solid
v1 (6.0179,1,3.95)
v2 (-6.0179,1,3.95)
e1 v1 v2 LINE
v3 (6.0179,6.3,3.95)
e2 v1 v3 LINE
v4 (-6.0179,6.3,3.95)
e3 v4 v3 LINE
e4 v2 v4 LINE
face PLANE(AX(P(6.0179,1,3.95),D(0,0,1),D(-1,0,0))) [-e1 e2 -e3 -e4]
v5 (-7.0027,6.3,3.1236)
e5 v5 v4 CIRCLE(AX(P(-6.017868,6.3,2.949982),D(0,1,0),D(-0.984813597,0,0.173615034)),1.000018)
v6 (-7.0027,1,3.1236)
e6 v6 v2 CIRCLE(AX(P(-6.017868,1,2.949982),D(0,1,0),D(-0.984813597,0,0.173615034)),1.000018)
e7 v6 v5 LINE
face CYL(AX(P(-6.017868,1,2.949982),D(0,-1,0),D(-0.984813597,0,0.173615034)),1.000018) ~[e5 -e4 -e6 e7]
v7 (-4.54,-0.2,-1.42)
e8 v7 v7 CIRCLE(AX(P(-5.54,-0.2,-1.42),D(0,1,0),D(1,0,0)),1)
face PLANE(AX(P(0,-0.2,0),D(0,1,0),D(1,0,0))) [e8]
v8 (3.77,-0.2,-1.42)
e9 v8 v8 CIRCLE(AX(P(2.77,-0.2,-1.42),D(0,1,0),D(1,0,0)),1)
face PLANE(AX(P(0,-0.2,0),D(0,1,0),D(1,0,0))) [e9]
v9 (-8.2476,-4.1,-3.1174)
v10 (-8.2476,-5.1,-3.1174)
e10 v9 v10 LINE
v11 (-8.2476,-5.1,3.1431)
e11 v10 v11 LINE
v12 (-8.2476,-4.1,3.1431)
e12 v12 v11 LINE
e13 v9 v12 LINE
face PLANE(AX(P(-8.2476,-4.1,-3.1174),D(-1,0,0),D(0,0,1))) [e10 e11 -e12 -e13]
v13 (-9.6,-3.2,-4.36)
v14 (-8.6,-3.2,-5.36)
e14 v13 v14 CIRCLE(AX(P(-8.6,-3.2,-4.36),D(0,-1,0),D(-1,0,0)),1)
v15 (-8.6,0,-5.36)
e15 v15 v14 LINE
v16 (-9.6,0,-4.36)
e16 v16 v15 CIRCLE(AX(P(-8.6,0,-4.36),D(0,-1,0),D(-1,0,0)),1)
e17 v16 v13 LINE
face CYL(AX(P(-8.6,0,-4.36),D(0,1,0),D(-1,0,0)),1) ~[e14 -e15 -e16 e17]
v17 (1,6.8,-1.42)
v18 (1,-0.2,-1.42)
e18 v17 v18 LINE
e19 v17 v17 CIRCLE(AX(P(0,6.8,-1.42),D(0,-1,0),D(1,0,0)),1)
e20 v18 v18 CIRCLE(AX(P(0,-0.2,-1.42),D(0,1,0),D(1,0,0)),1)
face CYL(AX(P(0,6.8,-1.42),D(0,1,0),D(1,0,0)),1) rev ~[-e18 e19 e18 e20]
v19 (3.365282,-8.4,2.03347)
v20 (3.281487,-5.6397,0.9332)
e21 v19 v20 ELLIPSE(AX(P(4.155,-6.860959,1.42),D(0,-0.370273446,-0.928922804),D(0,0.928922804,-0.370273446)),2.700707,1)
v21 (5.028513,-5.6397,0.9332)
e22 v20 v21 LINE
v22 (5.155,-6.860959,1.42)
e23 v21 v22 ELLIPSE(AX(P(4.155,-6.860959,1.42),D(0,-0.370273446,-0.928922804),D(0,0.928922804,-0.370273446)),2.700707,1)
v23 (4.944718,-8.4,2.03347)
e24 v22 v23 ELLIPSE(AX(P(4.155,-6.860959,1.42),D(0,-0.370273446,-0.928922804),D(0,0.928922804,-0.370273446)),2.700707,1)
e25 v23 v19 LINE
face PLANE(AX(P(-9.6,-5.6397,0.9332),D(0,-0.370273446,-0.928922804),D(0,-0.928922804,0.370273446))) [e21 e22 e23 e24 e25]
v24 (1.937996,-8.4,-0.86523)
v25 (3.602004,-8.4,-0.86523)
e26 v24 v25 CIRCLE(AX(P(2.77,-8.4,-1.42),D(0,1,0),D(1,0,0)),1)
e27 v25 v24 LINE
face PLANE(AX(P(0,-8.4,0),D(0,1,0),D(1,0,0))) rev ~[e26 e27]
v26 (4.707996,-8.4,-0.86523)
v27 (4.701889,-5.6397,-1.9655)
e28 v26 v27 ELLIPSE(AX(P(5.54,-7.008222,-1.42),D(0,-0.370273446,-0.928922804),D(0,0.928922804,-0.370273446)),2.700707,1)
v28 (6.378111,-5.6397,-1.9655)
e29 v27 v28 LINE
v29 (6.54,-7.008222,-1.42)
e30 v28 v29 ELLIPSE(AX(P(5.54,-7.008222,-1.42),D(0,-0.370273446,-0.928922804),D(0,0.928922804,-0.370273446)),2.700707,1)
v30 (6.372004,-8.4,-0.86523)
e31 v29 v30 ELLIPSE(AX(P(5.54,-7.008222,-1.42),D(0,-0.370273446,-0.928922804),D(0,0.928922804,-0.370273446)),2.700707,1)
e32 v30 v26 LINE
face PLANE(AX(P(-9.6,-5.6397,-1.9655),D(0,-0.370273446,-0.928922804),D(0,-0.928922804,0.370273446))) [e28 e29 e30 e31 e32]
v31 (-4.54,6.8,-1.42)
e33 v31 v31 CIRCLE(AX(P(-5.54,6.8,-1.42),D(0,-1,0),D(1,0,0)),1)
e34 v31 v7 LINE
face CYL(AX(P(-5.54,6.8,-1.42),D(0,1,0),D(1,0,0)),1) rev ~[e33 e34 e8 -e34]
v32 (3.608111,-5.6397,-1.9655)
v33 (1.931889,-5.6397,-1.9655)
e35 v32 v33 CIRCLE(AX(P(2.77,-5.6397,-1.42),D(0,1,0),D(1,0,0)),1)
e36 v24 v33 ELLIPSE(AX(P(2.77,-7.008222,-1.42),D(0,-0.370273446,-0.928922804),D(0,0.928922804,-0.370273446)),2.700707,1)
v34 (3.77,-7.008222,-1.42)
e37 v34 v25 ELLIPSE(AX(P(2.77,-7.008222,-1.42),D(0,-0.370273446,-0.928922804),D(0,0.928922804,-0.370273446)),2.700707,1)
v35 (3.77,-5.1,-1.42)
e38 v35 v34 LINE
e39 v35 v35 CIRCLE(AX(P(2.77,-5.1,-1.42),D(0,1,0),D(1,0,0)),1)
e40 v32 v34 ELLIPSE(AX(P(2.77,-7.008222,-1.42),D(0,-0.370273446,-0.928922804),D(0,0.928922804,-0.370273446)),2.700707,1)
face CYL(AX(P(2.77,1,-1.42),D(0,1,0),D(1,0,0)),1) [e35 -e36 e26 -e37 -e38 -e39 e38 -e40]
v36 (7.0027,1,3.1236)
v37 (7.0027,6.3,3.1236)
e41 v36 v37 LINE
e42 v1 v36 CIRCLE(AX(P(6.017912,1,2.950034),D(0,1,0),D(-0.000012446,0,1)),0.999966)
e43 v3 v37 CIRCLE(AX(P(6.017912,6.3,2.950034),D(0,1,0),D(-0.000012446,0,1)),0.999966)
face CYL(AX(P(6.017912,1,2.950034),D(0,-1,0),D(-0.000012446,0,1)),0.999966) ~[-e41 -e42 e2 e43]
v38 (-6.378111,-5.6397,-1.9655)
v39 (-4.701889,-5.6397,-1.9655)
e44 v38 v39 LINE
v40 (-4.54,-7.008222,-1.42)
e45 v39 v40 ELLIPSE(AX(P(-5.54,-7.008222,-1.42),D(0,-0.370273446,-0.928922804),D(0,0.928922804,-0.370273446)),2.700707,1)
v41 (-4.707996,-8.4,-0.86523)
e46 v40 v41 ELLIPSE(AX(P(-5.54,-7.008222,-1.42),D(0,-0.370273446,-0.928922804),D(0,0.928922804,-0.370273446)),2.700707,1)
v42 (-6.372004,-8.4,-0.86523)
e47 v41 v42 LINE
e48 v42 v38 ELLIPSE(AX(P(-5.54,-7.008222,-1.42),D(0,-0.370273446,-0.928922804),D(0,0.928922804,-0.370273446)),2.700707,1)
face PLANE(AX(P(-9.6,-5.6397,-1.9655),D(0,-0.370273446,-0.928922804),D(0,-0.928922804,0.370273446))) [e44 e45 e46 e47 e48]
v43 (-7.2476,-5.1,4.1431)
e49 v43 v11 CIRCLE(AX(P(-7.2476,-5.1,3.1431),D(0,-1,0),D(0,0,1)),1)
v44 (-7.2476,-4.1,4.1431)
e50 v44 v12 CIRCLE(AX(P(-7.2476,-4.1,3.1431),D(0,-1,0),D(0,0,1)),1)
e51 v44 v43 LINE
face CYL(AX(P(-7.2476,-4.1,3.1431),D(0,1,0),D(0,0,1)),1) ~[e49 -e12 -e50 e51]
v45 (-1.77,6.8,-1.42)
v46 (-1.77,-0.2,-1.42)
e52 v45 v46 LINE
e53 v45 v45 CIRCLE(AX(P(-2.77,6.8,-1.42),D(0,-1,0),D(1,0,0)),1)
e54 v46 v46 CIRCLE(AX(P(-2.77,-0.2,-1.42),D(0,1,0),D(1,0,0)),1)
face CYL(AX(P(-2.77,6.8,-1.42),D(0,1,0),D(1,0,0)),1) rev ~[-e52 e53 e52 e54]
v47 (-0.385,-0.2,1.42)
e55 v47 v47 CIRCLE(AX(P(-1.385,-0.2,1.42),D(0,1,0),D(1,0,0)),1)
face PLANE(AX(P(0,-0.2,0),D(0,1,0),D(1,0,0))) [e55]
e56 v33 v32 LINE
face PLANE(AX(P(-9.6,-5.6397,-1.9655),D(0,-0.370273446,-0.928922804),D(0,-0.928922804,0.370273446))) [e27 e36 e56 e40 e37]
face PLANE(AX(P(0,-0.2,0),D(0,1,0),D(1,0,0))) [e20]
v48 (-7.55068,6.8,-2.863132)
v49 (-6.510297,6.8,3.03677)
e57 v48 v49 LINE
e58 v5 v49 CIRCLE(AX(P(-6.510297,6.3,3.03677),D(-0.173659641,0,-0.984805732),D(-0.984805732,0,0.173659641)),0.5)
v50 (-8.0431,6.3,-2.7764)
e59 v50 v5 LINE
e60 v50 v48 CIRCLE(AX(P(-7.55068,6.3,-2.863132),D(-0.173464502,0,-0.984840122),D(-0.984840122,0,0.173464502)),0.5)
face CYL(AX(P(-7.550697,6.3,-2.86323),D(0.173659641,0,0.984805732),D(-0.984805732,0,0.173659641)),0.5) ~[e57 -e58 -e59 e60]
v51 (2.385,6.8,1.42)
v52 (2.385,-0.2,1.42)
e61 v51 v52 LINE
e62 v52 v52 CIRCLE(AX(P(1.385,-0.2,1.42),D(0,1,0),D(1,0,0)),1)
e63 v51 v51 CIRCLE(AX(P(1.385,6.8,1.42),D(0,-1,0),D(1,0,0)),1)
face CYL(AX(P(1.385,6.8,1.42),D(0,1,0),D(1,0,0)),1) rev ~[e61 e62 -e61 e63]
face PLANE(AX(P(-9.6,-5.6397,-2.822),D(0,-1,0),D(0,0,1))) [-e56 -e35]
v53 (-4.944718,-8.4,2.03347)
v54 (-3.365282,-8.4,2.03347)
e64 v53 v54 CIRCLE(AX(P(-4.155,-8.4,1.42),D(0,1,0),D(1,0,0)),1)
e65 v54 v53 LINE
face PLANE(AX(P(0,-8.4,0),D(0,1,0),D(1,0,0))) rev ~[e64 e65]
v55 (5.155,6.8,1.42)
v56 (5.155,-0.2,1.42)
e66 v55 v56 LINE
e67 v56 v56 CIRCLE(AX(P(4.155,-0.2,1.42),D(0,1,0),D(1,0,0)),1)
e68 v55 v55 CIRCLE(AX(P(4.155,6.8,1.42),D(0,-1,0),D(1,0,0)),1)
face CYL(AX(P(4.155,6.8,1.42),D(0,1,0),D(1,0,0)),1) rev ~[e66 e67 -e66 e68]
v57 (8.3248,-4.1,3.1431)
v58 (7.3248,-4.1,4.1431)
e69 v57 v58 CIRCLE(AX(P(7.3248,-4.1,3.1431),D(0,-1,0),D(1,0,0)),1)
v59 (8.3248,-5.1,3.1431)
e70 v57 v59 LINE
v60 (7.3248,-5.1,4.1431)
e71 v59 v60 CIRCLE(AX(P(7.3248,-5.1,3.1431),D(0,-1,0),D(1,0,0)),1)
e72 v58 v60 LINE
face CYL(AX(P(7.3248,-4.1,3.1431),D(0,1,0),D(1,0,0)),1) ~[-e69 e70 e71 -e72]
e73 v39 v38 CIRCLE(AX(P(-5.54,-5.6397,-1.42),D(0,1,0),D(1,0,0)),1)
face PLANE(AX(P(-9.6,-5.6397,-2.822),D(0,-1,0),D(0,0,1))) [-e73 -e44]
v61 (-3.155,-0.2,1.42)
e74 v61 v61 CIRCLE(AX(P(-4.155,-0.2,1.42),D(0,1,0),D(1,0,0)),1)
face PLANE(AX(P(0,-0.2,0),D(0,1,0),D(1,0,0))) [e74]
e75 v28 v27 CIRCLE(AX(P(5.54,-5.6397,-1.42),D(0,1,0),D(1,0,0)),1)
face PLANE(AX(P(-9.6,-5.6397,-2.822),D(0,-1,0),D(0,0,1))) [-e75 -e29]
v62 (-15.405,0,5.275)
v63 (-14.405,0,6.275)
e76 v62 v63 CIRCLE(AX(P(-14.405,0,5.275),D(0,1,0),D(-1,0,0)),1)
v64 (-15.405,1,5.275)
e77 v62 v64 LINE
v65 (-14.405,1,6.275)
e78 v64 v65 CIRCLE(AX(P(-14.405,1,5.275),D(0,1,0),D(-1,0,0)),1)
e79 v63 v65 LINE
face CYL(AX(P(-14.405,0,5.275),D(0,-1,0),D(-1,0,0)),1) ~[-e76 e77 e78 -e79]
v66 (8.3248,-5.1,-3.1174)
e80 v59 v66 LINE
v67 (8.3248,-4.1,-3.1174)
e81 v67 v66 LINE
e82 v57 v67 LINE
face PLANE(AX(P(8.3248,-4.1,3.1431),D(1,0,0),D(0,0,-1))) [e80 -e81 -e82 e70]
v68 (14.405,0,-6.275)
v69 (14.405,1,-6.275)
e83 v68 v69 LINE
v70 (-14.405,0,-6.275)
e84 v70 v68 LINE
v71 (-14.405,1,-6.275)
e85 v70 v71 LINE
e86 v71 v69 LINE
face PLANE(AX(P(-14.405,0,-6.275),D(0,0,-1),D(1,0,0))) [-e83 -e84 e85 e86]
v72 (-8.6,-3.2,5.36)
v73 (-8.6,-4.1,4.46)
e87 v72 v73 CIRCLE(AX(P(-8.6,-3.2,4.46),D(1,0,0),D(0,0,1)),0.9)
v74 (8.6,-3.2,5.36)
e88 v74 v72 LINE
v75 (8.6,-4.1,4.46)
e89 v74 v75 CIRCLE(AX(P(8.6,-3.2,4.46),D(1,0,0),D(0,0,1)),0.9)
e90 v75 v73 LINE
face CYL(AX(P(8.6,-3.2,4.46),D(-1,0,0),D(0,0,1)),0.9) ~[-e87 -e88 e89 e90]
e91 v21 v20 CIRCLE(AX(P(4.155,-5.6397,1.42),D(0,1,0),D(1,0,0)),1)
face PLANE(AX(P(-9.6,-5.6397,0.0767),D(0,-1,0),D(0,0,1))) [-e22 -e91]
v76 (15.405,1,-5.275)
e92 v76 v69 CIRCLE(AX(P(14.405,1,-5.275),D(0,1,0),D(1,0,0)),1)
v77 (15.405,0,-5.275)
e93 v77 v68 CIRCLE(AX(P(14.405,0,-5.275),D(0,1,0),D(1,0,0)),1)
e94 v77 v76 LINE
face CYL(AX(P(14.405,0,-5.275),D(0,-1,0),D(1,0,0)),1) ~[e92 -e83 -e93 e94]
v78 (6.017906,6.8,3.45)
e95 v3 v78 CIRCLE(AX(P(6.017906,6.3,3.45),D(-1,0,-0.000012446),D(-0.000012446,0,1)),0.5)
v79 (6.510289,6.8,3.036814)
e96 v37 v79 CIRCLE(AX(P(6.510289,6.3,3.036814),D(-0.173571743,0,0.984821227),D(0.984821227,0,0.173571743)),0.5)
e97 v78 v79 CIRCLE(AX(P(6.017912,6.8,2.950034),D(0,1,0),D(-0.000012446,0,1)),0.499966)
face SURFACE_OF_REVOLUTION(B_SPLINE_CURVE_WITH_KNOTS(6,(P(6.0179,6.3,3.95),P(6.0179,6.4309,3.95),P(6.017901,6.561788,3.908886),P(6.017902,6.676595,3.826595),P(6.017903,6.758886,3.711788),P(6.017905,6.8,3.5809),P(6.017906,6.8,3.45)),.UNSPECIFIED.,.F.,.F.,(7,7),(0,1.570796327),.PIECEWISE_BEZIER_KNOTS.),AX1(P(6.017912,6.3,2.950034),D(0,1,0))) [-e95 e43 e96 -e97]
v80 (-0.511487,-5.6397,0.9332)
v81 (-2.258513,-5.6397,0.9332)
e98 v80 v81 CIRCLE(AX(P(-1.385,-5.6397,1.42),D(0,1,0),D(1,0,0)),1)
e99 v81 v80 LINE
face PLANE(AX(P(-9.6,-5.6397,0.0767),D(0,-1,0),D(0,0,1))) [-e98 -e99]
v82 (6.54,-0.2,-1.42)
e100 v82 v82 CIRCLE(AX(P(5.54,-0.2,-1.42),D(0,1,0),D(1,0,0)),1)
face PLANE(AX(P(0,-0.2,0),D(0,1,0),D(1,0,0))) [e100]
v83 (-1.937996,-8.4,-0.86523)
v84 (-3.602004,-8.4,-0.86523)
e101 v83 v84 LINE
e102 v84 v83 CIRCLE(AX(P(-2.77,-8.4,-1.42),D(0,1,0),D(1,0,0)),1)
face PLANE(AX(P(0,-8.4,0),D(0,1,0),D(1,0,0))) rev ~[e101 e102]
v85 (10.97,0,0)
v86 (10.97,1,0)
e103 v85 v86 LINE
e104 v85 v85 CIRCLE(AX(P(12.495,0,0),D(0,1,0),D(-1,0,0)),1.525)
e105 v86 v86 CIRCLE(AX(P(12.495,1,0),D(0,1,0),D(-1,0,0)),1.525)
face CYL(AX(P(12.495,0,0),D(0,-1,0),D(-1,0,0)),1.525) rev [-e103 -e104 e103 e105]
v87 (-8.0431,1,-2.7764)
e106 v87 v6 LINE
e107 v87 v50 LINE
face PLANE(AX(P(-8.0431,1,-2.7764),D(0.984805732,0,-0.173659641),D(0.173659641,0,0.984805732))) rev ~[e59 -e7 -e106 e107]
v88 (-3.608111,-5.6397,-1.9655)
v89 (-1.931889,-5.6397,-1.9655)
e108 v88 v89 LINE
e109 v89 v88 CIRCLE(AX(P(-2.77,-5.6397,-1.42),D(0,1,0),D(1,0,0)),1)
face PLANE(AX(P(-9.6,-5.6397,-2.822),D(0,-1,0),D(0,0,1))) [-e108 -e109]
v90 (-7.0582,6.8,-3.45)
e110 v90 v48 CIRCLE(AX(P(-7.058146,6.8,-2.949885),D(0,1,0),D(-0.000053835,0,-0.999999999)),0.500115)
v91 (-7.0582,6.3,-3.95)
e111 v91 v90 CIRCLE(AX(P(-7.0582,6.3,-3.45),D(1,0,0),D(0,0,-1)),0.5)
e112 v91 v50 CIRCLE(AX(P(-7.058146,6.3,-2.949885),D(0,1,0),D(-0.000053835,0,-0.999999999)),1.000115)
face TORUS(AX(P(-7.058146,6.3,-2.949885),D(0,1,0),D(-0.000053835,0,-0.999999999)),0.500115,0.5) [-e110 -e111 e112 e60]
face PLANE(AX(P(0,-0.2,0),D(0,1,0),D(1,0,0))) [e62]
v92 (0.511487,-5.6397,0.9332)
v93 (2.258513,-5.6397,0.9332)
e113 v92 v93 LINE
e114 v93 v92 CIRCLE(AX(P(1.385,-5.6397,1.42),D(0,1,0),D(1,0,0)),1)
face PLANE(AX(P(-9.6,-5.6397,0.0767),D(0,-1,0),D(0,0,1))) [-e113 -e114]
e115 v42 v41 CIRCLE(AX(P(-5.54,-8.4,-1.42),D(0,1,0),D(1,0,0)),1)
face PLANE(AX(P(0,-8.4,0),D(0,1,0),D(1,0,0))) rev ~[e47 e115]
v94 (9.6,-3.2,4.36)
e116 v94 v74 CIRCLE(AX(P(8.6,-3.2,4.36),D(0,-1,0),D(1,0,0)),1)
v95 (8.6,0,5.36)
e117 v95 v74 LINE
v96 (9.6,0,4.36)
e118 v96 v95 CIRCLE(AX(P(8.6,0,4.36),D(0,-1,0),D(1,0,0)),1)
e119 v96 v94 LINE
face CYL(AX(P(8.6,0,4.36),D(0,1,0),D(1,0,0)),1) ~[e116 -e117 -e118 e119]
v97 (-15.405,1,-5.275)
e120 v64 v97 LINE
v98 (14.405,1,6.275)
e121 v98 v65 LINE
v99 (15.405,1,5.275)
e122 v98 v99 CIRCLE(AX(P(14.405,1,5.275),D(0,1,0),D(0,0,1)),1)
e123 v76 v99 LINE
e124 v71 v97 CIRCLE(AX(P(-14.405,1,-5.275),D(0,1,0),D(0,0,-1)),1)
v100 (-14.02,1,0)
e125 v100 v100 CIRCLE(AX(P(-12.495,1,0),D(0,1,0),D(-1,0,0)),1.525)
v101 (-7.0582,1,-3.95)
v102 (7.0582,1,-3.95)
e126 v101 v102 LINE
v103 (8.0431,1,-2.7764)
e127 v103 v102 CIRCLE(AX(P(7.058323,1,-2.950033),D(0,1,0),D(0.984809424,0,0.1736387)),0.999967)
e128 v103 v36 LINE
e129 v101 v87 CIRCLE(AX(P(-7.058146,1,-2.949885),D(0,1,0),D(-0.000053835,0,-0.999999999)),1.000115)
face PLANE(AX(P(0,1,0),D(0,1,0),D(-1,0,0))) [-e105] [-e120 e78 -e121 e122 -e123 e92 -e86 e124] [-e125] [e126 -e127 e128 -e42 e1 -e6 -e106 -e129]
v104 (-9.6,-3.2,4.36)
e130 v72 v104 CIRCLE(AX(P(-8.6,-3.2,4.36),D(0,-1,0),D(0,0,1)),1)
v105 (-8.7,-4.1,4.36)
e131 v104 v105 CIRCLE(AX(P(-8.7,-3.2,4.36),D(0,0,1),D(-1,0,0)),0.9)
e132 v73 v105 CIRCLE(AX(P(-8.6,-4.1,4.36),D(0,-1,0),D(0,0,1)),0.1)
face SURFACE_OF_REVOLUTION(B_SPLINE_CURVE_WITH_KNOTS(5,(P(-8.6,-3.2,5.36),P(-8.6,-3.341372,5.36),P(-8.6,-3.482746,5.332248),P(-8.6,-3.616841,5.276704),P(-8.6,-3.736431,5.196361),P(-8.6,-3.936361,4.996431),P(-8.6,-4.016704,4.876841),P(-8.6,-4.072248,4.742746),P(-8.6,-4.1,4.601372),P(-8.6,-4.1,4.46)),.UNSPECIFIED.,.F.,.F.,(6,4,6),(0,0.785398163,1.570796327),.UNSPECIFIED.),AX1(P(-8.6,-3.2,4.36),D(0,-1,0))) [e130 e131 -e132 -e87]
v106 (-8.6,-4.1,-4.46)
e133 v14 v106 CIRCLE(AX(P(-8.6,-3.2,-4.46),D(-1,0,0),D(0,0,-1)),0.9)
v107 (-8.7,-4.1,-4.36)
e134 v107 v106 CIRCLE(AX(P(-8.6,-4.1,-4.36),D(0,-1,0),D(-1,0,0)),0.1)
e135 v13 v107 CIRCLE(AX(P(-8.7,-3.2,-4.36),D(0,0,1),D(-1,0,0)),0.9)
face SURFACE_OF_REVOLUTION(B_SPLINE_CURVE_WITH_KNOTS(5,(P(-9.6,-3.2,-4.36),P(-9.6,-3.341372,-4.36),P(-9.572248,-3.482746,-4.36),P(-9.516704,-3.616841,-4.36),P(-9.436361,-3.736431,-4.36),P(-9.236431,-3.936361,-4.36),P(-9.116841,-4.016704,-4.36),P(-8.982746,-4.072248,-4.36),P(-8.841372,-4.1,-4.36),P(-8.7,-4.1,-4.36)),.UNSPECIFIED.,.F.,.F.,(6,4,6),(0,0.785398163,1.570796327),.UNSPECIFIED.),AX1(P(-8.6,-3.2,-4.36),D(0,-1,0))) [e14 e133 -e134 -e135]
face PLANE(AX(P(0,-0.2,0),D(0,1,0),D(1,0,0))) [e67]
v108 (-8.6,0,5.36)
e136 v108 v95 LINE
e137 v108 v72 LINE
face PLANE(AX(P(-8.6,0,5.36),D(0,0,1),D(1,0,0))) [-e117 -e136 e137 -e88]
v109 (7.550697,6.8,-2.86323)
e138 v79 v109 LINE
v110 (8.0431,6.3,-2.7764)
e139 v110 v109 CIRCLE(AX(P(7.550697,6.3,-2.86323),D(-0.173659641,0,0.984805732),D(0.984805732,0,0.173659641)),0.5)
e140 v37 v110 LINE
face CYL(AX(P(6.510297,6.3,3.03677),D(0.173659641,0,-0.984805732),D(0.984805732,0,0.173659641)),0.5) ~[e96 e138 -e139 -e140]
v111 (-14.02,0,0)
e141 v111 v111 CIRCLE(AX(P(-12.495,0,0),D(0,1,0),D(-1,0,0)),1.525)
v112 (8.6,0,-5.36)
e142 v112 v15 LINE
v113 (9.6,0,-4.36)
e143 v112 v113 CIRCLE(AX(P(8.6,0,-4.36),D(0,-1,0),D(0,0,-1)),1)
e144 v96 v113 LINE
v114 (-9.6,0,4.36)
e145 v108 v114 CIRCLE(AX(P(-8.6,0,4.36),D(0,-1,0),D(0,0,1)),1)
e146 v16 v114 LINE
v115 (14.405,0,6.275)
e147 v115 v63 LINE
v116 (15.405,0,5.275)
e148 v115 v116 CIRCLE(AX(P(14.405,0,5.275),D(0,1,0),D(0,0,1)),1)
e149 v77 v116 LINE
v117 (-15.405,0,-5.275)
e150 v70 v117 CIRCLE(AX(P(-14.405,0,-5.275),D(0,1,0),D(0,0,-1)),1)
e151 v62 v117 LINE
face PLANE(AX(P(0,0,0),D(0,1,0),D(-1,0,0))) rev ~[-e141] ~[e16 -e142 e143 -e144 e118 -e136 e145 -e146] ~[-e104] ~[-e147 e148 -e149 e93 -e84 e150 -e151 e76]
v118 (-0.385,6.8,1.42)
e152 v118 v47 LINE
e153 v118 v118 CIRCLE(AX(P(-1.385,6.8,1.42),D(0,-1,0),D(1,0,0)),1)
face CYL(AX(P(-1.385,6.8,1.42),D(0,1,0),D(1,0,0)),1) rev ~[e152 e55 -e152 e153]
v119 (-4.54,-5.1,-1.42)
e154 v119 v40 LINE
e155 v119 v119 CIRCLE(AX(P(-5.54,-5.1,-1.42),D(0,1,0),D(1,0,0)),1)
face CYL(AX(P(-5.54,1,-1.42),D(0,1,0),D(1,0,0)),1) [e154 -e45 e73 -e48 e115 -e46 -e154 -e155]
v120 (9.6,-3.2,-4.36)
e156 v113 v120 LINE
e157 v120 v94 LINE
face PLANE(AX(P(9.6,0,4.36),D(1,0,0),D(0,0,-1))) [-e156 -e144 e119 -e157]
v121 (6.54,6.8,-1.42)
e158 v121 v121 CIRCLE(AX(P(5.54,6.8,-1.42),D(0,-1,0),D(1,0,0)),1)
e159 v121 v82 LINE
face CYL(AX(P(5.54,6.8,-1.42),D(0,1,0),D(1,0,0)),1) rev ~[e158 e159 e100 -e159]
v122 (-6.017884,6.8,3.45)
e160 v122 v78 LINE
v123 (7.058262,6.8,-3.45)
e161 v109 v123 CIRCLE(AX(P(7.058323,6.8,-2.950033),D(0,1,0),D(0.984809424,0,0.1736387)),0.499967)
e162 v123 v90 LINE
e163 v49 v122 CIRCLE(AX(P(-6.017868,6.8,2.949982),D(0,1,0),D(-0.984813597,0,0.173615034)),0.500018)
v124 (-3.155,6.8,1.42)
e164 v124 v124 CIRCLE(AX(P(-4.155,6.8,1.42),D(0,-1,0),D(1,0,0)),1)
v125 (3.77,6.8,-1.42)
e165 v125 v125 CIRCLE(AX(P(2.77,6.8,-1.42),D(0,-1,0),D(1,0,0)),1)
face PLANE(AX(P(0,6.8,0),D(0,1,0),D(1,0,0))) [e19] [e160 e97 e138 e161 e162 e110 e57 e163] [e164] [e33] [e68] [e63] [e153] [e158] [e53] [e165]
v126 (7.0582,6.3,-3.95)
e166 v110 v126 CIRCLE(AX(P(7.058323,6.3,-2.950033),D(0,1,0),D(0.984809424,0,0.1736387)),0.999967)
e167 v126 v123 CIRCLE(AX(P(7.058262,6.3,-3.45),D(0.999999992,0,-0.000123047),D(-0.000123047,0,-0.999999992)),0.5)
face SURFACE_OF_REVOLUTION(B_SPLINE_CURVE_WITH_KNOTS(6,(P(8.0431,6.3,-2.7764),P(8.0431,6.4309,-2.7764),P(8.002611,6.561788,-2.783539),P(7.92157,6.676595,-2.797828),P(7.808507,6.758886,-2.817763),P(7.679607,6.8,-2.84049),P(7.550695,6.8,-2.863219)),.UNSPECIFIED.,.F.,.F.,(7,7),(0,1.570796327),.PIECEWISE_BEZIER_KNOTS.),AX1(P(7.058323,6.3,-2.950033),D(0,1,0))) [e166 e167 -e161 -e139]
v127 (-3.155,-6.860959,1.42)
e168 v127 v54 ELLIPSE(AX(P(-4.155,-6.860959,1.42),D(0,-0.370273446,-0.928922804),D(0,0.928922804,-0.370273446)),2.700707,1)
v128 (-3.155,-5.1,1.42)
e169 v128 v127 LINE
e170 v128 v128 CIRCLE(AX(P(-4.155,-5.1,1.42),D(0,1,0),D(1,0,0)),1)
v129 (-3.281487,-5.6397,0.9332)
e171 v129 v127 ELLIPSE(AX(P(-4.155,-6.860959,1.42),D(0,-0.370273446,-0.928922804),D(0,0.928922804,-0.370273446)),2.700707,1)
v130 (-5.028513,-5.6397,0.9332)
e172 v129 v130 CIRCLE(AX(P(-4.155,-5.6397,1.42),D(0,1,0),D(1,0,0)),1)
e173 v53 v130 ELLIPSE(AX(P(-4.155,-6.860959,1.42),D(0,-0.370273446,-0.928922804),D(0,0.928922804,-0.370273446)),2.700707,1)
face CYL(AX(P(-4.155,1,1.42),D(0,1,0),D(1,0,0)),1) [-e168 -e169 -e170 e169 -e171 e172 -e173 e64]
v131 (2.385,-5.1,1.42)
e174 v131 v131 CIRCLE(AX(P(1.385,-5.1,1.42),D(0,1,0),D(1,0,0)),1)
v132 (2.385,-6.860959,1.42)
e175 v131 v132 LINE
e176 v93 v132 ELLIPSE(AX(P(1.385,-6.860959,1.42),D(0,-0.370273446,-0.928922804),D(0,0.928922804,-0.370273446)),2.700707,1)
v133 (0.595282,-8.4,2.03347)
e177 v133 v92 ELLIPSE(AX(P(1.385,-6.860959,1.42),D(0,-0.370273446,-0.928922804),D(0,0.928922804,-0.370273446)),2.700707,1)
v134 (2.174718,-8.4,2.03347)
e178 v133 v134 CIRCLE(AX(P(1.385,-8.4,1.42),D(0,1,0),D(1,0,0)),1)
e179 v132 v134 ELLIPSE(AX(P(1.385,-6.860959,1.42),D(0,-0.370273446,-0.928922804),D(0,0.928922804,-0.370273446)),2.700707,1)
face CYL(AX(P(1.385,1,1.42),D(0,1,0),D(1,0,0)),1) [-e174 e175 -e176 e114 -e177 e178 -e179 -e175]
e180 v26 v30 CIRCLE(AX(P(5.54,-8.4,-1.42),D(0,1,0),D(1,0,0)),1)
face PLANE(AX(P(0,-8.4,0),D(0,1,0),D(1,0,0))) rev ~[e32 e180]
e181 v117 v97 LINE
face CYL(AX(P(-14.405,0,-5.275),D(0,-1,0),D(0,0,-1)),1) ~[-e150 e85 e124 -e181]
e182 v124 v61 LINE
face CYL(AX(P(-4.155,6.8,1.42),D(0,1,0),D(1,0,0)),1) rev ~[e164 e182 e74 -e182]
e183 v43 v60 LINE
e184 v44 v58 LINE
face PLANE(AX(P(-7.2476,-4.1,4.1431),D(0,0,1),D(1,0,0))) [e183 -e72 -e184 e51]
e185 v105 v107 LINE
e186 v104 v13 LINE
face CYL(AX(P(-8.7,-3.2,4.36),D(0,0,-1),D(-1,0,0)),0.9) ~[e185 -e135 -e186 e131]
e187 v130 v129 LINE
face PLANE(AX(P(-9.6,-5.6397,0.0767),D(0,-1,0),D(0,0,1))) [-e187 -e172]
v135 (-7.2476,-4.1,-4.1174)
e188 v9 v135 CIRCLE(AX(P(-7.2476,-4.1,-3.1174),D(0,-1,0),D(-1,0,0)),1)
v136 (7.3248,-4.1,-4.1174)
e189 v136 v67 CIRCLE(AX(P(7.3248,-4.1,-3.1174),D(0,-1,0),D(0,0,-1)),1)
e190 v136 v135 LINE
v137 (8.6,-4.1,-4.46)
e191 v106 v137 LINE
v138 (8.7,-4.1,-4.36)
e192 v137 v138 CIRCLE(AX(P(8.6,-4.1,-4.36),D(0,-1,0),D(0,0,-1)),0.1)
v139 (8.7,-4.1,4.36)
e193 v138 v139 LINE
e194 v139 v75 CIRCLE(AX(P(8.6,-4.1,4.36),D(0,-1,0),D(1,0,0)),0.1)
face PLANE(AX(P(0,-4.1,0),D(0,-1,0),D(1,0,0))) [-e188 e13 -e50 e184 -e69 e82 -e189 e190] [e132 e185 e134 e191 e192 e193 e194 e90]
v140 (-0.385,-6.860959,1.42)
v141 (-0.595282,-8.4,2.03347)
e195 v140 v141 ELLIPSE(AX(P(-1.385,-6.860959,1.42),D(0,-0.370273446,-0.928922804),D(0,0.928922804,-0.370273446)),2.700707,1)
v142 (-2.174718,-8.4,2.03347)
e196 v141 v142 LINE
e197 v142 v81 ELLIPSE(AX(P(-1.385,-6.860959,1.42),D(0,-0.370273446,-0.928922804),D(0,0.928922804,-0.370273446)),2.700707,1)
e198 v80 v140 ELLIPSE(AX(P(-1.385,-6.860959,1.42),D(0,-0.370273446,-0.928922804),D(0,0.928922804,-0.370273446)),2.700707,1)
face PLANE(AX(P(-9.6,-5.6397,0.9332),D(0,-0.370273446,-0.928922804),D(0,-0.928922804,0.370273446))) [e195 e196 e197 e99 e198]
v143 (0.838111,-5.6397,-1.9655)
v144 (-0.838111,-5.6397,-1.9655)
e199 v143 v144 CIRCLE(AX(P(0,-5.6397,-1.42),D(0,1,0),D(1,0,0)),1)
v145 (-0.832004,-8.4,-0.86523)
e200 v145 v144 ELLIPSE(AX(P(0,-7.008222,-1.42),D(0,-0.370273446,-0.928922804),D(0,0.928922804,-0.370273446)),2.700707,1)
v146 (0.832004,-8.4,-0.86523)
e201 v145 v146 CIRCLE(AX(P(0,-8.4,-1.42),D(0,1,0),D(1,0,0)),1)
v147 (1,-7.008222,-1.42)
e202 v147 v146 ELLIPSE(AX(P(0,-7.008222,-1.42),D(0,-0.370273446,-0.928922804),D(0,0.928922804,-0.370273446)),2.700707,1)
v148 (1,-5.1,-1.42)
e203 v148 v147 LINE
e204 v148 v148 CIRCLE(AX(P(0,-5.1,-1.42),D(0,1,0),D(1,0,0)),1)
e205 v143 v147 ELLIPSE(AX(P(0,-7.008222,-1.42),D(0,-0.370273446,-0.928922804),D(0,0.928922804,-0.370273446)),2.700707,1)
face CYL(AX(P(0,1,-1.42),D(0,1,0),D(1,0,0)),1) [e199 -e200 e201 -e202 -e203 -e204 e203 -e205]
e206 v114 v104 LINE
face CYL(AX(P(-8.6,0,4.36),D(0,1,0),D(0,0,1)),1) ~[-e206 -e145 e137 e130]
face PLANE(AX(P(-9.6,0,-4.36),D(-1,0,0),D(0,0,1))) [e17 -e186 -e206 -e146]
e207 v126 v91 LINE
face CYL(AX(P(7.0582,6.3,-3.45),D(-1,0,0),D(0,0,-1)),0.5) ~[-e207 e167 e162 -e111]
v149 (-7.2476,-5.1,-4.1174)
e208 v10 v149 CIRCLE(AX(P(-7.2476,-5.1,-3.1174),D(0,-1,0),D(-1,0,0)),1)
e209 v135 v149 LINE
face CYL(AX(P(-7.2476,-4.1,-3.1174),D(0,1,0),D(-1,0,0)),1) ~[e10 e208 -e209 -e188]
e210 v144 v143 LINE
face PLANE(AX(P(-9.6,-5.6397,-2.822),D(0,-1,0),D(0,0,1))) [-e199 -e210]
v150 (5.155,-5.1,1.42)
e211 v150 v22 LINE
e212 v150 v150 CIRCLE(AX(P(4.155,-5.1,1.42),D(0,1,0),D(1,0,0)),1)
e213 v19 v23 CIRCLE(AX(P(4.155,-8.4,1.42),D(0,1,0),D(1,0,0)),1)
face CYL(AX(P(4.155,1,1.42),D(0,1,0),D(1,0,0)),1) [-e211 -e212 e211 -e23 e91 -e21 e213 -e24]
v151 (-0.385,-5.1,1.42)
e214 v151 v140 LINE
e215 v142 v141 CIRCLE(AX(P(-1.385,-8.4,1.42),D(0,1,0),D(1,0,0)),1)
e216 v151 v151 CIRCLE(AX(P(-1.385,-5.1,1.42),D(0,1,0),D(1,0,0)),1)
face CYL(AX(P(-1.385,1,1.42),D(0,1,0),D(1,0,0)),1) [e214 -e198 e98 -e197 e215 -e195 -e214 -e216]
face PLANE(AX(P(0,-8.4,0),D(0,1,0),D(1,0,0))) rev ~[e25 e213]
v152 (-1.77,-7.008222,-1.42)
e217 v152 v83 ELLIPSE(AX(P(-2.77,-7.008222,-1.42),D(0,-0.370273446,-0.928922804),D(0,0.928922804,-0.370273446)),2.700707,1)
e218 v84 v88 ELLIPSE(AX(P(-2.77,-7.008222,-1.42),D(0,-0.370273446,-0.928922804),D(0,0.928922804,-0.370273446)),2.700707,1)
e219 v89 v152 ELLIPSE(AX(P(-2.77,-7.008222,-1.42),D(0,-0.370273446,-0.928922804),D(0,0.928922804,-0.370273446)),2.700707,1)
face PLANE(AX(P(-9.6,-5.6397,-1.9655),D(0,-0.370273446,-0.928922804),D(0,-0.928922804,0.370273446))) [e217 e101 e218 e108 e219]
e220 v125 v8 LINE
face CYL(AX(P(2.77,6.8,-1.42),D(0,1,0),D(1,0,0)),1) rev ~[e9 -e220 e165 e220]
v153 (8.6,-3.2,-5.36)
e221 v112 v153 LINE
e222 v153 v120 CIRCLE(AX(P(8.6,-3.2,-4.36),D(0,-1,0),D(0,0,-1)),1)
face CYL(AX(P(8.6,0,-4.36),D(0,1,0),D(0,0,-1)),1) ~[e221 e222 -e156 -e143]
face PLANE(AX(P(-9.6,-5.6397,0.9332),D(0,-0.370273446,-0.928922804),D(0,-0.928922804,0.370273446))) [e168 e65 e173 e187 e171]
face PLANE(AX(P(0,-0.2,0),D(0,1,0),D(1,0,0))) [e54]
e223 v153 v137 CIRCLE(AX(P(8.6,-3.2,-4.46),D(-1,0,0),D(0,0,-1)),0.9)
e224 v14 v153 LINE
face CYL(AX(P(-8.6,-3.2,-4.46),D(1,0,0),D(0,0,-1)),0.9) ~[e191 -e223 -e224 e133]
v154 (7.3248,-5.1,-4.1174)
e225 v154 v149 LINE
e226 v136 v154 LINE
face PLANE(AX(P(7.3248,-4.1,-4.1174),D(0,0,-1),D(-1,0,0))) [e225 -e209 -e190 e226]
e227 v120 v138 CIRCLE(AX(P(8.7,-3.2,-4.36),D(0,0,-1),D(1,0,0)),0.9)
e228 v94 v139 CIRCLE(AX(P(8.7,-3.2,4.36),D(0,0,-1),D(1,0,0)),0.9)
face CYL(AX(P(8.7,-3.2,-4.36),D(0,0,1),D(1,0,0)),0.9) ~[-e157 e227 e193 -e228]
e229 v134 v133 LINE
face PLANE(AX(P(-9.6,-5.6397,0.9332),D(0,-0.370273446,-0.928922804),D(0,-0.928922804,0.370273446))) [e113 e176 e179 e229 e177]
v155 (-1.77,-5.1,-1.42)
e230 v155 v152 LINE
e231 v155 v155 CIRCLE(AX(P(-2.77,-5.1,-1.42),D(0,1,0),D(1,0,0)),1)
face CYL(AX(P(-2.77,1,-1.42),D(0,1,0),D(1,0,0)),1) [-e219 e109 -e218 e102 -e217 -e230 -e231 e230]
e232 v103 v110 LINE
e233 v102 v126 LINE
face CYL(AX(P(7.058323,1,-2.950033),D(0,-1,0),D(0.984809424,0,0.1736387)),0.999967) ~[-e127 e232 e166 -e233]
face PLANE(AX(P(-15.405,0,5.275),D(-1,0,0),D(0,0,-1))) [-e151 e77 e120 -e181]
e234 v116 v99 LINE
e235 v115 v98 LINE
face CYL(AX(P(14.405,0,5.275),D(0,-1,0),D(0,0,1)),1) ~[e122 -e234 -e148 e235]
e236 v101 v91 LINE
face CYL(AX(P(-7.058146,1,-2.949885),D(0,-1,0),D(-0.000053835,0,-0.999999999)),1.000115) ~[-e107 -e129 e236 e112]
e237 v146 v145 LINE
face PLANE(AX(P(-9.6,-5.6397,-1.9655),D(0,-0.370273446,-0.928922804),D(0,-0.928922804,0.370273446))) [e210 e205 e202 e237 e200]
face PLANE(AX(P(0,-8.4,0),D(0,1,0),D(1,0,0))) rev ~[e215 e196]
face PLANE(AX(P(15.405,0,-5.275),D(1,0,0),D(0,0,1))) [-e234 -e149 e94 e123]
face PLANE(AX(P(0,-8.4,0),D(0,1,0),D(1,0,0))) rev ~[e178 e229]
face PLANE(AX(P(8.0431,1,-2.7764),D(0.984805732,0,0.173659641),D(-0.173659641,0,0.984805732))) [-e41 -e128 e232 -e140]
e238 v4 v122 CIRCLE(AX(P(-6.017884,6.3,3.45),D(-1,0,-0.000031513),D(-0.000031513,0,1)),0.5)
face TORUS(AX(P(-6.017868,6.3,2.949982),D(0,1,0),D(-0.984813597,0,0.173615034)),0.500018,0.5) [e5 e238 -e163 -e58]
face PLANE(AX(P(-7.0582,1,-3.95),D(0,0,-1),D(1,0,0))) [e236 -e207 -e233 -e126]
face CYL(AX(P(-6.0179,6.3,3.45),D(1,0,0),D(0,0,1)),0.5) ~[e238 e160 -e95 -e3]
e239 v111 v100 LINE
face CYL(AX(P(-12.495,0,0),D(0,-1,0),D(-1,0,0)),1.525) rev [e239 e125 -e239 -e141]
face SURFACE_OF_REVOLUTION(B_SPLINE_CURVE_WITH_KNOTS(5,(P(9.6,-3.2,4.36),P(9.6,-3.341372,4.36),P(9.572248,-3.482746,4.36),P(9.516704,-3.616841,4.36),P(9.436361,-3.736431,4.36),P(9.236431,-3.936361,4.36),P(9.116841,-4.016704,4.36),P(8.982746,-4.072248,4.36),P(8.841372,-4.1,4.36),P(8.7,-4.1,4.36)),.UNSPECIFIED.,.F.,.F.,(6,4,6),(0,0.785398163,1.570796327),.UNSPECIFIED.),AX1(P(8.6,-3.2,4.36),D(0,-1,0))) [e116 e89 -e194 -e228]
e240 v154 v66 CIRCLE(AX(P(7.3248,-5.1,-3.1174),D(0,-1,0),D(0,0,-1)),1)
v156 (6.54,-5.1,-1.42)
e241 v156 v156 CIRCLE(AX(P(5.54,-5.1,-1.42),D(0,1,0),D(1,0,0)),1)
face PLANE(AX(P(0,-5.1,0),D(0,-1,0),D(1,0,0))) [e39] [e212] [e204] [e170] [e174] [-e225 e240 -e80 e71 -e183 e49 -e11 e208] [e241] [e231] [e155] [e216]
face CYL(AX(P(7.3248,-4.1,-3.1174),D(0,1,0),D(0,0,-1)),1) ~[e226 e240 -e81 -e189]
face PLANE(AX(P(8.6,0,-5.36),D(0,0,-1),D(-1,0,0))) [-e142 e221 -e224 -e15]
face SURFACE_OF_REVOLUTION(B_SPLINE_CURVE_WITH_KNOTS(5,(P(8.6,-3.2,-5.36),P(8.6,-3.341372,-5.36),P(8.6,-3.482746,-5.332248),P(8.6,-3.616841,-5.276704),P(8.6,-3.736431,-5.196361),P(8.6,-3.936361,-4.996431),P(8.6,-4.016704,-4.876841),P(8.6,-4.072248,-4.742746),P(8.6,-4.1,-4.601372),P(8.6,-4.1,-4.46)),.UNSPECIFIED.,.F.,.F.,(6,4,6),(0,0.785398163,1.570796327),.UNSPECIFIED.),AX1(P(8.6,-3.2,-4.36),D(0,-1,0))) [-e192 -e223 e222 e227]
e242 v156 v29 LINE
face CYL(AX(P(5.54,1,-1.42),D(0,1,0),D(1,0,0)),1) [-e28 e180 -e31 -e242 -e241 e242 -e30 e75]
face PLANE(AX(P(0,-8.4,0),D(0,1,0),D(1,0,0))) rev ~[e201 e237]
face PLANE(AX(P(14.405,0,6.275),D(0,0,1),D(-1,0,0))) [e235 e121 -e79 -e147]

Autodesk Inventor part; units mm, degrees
ref_plane "YZ Plane" through (0, 0, 0) normal (1, 0, 0) x (0, 1, 0)
ref_plane "XZ Plane" through (0, 0, 0) normal (0, 1, 0) x (-1, 0, 0)
ref_plane "XY Plane" through (0, 0, 0) normal (0, 0, 1) x (1, 0, 0)
sketch "Sketch1" plane through (0, 0, 0) normal (0, 1, 0) x (-1, 0, 0)
  line L0 (-14.405, 6.275) -> (14.405, 6.275)
  line L1 (15.405, 5.275) -> (15.405, -5.275)
  line L2 (14.405, -6.275) -> (-14.405, -6.275)
  line L3 (-15.405, -5.275) -> (-15.405, 5.275)
  arc A0 (-14.405, 6.275) -> (-15.405, 5.275) centre (-14.405, 5.275) ccw
  arc A1 (15.405, 5.275) -> (14.405, 6.275) centre (14.405, 5.275) ccw
  arc A2 (14.405, -6.275) -> (15.405, -5.275) centre (14.405, -5.275) ccw
  arc A3 (-15.405, -5.275) -> (-14.405, -6.275) centre (-14.405, -5.275) ccw
  circle A4 centre (12.495, 0) radius 1.525
  circle A5 centre (-12.495, 0) radius 1.525
  point P0 (0, 0)
  point P1 (-15.405, 6.275)
  point P2 (15.405, -6.275)
  point P3 (15.405, 6.275)
  dimension "d0" = 30.81
  dimension "d1" = 12.55
  dimension "d2" = 6.275
  dimension "d3" = 15.405
  dimension "d4" = 1
  dimension "d16" = 3.05
  dimension "d17" = 3.05
  dimension "d18" = 24.99
  dimension "d19" = 12.495
extrude "Extrusion1" add sketch "Sketch1" along normal blind 1
sketch "Sketch2" plane through (0, 1, 0) normal (0, 1, 0) x (1, 0, 0)
  line L0 (-7.0582, 3.95) -> (7.0582, 3.95)
  line L1 (8.25, 3.95) -> (8.25, -3.95)
  line L2 (6.0179, -3.95) -> (-6.0179, -3.95)
  line L3 (-8.25, -3.95) -> (-8.25, 3.95)
  line L4 (-8.0431, 2.7764) -> (-7.0027, -3.1236)
  line L5 (8.0431, 2.7764) -> (7.0027, -3.1236)
  arc A0 (-7.0582, 3.95) -> (-8.0431, 2.7764) centre (-7.0582, 2.95) ccw
  arc A1 (-7.0027, -3.1236) -> (-6.0179, -3.95) centre (-6.0179, -2.95) ccw
  arc A2 (6.0179, -3.95) -> (7.0027, -3.1236) centre (6.0179, -2.95) ccw
  arc A3 (8.0431, 2.7764) -> (7.0582, 3.95) centre (7.0582, 2.95) ccw
  point P0 (0, 0)
  dimension "d7" = 16.5
  dimension "d8" = 7.9
  dimension "d9" = 3.95
  dimension "d10" = 8.25
  dimension "d11" = 10
  dimension "d12" = 10
  dimension "d13" = 1
extrude "Extrusion2" add sketch "Sketch2" along normal blind 5.8
sketch "Sketch3" plane through (0, 0, 0) normal (0, -1, 0) x (1, 0, 0)
  line L0 (-8.6, 5.36) -> (8.6, 5.36)
  line L1 (9.6, 4.36) -> (9.6, -4.36)
  line L2 (8.6, -5.36) -> (-8.6, -5.36)
  line L3 (-9.6, -4.36) -> (-9.6, 4.36)
  arc A0 (-8.6, 5.36) -> (-9.6, 4.36) centre (-8.6, 4.36) ccw
  arc A1 (9.6, 4.36) -> (8.6, 5.36) centre (8.6, 4.36) ccw
  arc A2 (8.6, -5.36) -> (9.6, -4.36) centre (8.6, -4.36) ccw
  arc A3 (-9.6, -4.36) -> (-8.6, -5.36) centre (-8.6, -4.36) ccw
  point P0 (0, 0)
  point P1 (-9.6, 5.36)
  point P2 (9.6, -5.36)
  point P3 (9.6, 5.36)
  dimension "d20" = 19.2
  dimension "d21" = 10.72
  dimension "d22" = 5.36
  dimension "d23" = 9.6
  dimension "d24" = 1
extrude "Extrusion3" add sketch "Sketch3" along normal blind 4.1
fillet "Fillet1" radius 0.9 8 edges at (9.3071, -4.1, -5.0671) (9.6, -4.1, 0) (9.3071, -4.1, 5.0671) (0, -4.1, 5.36) (-9.3071, -4.1, 5.0671) (-9.6, -4.1, 0) (-9.3071, -4.1, -5.0671) (0, -4.1, -5.36)
sketch "Sketch4" plane through (0, -4.1, 0) normal (0, -1, 0) x (1, 0, 0)
  line L0 (-7.2476, 4.1431) -> (7.3248, 4.1431)
  line L1 (8.3248, 3.1431) -> (8.3248, -3.1174)
  line L2 (7.3248, -4.1174) -> (-7.2476, -4.1174)
  line L3 (-8.2476, -3.1174) -> (-8.2476, 3.1431)
  arc A0 (-7.2476, 4.1431) -> (-8.2476, 3.1431) centre (-7.2476, 3.1431) ccw
  arc A1 (8.3248, 3.1431) -> (7.3248, 4.1431) centre (7.3248, 3.1431) ccw
  arc A2 (7.3248, -4.1174) -> (8.3248, -3.1174) centre (7.3248, -3.1174) ccw
  arc A3 (-8.2476, -3.1174) -> (-7.2476, -4.1174) centre (-7.2476, -3.1174) ccw
  point P0 (0, 0)
  point P1 (-8.2476, 4.1431)
  point P2 (8.3248, -4.1174)
  point P3 (8.3248, 4.1431)
  point P4 (-8.2476, -4.1174)
  dimension "d30" = 1
extrude "Extrusion4" add sketch "Sketch4" along normal blind 1
sketch "Sketch5" plane through (0, 1, 0) normal (0, 1, 0) x (1, 0, 0)
  line L0 (7.3082, 4.0255) -> (-7.3082, 4.0255) projected
  circle A0 centre (-5.54, 1.42) radius 1
  circle A1 centre (-4.155, -1.42) radius 1
  circle A2 centre (-2.77, 1.42) radius 1
  circle A3 centre (0, 1.42) radius 1
  circle A4 centre (2.77, 1.42) radius 1
  circle A5 centre (5.54, 1.42) radius 1
  circle A6 centre (-1.385, -1.42) radius 1
  circle A7 centre (1.385, -1.42) radius 1
  circle A8 centre (4.155, -1.42) radius 1
  point P0 (0, 0)
  dimension "d31" = 5.54
  dimension "d32" = 4.155
  dimension "d34" = 1.42
  dimension "d35" = 1.42
  dimension "d36" = 2
  dimension "d37" = 2
  dimension "d40" = 2.77
  dimension "d47" = 2.77
extrude "Extrusion5" add sketch "Sketch5" along normal blind 7.35 and the other way blind 9.4
sketch "Sketch6" plane through (-9.6, 0, -4.36) normal (-1, 0, 0) x (0, 0, 1)
  line L0 (0, 0) -> (0, -3.2) projected
  line L1 (1.538, -5.6397) -> (2.3945, -5.6397)
  line L2 (2.3945, -5.6397) -> (3.6462, -8.7799)
  line L3 (3.6462, -8.7799) -> (1.538, -8.7799)
  line L4 (1.538, -8.7799) -> (1.538, -5.6397)
  line L5 (4.4367, -5.6397) -> (5.2932, -5.6397)
  line L6 (5.2932, -5.6397) -> (6.5449, -8.7799)
  line L7 (6.5449, -8.7799) -> (4.4367, -8.7799)
  line L8 (4.4367, -8.7799) -> (4.4367, -5.6397)
  point P0 (4.36, 0)
extrude "Extrusion6" cut sketch "Sketch6" against normal through all
fillet "Fillet2" radius 0.5 8 edges at (6.6607, 6.8, 3.716) (7.5229, 6.8, 0.1736) (7.8243, 6.8, -3.5928) (0, 6.8, -3.95) (-7.8243, 6.8, -3.5928) (-7.5229, 6.8, 0.1736) (-6.6607, 6.8, 3.716) (0, 6.8, 3.95)
sketch "Sketch7" plane through (0, 6.8, 0) normal (0, 1, 0) x (1, 0, 0)
  circle A0 centre (4.155, -1.42) radius 1 projected
  circle A1 centre (-1.385, -1.42) radius 1 projected
  circle A2 centre (2.77, 1.42) radius 1 projected
  circle A3 centre (-2.77, 1.42) radius 1 projected
  circle A4 centre (-5.54, 1.42) radius 1 projected
  circle A5 centre (-4.155, -1.42) radius 1 projected
  circle A6 centre (0, 1.42) radius 1 projected
  circle A7 centre (5.54, 1.42) radius 1 projected
  circle A8 centre (1.385, -1.42) radius 1 projected
  line L0 (-7.0582, 3.45) -> (7.0582, 3.45) projected
  circle A9 centre (-5.54, 1.42) radius 1.05
  circle A10 centre (-4.155, -1.42) radius 1.05
  circle A11 centre (-2.77, 1.42) radius 1.05
  circle A12 centre (0, 1.42) radius 1.05
  circle A13 centre (2.77, 1.42) radius 1.05
  circle A14 centre (5.54, 1.42) radius 1.05
  circle A15 centre (-1.385, -1.42) radius 1.05
  circle A16 centre (1.385, -1.42) radius 1.05
  circle A17 centre (4.155, -1.42) radius 1.05
  point P0 (0, 0)
  dimension "d59" = 2.1
  dimension "d60" = 2.1
  dimension "d63" = 2.77
  dimension "d70" = 2.77
extrude "Extrusion7" cut sketch "Sketch7" along normal mid plane 14 contours A0 | A1 | A2 | A3 | A4 | A5 | A6 | A7 | A8
properties part number "DSUB_9_Female"
